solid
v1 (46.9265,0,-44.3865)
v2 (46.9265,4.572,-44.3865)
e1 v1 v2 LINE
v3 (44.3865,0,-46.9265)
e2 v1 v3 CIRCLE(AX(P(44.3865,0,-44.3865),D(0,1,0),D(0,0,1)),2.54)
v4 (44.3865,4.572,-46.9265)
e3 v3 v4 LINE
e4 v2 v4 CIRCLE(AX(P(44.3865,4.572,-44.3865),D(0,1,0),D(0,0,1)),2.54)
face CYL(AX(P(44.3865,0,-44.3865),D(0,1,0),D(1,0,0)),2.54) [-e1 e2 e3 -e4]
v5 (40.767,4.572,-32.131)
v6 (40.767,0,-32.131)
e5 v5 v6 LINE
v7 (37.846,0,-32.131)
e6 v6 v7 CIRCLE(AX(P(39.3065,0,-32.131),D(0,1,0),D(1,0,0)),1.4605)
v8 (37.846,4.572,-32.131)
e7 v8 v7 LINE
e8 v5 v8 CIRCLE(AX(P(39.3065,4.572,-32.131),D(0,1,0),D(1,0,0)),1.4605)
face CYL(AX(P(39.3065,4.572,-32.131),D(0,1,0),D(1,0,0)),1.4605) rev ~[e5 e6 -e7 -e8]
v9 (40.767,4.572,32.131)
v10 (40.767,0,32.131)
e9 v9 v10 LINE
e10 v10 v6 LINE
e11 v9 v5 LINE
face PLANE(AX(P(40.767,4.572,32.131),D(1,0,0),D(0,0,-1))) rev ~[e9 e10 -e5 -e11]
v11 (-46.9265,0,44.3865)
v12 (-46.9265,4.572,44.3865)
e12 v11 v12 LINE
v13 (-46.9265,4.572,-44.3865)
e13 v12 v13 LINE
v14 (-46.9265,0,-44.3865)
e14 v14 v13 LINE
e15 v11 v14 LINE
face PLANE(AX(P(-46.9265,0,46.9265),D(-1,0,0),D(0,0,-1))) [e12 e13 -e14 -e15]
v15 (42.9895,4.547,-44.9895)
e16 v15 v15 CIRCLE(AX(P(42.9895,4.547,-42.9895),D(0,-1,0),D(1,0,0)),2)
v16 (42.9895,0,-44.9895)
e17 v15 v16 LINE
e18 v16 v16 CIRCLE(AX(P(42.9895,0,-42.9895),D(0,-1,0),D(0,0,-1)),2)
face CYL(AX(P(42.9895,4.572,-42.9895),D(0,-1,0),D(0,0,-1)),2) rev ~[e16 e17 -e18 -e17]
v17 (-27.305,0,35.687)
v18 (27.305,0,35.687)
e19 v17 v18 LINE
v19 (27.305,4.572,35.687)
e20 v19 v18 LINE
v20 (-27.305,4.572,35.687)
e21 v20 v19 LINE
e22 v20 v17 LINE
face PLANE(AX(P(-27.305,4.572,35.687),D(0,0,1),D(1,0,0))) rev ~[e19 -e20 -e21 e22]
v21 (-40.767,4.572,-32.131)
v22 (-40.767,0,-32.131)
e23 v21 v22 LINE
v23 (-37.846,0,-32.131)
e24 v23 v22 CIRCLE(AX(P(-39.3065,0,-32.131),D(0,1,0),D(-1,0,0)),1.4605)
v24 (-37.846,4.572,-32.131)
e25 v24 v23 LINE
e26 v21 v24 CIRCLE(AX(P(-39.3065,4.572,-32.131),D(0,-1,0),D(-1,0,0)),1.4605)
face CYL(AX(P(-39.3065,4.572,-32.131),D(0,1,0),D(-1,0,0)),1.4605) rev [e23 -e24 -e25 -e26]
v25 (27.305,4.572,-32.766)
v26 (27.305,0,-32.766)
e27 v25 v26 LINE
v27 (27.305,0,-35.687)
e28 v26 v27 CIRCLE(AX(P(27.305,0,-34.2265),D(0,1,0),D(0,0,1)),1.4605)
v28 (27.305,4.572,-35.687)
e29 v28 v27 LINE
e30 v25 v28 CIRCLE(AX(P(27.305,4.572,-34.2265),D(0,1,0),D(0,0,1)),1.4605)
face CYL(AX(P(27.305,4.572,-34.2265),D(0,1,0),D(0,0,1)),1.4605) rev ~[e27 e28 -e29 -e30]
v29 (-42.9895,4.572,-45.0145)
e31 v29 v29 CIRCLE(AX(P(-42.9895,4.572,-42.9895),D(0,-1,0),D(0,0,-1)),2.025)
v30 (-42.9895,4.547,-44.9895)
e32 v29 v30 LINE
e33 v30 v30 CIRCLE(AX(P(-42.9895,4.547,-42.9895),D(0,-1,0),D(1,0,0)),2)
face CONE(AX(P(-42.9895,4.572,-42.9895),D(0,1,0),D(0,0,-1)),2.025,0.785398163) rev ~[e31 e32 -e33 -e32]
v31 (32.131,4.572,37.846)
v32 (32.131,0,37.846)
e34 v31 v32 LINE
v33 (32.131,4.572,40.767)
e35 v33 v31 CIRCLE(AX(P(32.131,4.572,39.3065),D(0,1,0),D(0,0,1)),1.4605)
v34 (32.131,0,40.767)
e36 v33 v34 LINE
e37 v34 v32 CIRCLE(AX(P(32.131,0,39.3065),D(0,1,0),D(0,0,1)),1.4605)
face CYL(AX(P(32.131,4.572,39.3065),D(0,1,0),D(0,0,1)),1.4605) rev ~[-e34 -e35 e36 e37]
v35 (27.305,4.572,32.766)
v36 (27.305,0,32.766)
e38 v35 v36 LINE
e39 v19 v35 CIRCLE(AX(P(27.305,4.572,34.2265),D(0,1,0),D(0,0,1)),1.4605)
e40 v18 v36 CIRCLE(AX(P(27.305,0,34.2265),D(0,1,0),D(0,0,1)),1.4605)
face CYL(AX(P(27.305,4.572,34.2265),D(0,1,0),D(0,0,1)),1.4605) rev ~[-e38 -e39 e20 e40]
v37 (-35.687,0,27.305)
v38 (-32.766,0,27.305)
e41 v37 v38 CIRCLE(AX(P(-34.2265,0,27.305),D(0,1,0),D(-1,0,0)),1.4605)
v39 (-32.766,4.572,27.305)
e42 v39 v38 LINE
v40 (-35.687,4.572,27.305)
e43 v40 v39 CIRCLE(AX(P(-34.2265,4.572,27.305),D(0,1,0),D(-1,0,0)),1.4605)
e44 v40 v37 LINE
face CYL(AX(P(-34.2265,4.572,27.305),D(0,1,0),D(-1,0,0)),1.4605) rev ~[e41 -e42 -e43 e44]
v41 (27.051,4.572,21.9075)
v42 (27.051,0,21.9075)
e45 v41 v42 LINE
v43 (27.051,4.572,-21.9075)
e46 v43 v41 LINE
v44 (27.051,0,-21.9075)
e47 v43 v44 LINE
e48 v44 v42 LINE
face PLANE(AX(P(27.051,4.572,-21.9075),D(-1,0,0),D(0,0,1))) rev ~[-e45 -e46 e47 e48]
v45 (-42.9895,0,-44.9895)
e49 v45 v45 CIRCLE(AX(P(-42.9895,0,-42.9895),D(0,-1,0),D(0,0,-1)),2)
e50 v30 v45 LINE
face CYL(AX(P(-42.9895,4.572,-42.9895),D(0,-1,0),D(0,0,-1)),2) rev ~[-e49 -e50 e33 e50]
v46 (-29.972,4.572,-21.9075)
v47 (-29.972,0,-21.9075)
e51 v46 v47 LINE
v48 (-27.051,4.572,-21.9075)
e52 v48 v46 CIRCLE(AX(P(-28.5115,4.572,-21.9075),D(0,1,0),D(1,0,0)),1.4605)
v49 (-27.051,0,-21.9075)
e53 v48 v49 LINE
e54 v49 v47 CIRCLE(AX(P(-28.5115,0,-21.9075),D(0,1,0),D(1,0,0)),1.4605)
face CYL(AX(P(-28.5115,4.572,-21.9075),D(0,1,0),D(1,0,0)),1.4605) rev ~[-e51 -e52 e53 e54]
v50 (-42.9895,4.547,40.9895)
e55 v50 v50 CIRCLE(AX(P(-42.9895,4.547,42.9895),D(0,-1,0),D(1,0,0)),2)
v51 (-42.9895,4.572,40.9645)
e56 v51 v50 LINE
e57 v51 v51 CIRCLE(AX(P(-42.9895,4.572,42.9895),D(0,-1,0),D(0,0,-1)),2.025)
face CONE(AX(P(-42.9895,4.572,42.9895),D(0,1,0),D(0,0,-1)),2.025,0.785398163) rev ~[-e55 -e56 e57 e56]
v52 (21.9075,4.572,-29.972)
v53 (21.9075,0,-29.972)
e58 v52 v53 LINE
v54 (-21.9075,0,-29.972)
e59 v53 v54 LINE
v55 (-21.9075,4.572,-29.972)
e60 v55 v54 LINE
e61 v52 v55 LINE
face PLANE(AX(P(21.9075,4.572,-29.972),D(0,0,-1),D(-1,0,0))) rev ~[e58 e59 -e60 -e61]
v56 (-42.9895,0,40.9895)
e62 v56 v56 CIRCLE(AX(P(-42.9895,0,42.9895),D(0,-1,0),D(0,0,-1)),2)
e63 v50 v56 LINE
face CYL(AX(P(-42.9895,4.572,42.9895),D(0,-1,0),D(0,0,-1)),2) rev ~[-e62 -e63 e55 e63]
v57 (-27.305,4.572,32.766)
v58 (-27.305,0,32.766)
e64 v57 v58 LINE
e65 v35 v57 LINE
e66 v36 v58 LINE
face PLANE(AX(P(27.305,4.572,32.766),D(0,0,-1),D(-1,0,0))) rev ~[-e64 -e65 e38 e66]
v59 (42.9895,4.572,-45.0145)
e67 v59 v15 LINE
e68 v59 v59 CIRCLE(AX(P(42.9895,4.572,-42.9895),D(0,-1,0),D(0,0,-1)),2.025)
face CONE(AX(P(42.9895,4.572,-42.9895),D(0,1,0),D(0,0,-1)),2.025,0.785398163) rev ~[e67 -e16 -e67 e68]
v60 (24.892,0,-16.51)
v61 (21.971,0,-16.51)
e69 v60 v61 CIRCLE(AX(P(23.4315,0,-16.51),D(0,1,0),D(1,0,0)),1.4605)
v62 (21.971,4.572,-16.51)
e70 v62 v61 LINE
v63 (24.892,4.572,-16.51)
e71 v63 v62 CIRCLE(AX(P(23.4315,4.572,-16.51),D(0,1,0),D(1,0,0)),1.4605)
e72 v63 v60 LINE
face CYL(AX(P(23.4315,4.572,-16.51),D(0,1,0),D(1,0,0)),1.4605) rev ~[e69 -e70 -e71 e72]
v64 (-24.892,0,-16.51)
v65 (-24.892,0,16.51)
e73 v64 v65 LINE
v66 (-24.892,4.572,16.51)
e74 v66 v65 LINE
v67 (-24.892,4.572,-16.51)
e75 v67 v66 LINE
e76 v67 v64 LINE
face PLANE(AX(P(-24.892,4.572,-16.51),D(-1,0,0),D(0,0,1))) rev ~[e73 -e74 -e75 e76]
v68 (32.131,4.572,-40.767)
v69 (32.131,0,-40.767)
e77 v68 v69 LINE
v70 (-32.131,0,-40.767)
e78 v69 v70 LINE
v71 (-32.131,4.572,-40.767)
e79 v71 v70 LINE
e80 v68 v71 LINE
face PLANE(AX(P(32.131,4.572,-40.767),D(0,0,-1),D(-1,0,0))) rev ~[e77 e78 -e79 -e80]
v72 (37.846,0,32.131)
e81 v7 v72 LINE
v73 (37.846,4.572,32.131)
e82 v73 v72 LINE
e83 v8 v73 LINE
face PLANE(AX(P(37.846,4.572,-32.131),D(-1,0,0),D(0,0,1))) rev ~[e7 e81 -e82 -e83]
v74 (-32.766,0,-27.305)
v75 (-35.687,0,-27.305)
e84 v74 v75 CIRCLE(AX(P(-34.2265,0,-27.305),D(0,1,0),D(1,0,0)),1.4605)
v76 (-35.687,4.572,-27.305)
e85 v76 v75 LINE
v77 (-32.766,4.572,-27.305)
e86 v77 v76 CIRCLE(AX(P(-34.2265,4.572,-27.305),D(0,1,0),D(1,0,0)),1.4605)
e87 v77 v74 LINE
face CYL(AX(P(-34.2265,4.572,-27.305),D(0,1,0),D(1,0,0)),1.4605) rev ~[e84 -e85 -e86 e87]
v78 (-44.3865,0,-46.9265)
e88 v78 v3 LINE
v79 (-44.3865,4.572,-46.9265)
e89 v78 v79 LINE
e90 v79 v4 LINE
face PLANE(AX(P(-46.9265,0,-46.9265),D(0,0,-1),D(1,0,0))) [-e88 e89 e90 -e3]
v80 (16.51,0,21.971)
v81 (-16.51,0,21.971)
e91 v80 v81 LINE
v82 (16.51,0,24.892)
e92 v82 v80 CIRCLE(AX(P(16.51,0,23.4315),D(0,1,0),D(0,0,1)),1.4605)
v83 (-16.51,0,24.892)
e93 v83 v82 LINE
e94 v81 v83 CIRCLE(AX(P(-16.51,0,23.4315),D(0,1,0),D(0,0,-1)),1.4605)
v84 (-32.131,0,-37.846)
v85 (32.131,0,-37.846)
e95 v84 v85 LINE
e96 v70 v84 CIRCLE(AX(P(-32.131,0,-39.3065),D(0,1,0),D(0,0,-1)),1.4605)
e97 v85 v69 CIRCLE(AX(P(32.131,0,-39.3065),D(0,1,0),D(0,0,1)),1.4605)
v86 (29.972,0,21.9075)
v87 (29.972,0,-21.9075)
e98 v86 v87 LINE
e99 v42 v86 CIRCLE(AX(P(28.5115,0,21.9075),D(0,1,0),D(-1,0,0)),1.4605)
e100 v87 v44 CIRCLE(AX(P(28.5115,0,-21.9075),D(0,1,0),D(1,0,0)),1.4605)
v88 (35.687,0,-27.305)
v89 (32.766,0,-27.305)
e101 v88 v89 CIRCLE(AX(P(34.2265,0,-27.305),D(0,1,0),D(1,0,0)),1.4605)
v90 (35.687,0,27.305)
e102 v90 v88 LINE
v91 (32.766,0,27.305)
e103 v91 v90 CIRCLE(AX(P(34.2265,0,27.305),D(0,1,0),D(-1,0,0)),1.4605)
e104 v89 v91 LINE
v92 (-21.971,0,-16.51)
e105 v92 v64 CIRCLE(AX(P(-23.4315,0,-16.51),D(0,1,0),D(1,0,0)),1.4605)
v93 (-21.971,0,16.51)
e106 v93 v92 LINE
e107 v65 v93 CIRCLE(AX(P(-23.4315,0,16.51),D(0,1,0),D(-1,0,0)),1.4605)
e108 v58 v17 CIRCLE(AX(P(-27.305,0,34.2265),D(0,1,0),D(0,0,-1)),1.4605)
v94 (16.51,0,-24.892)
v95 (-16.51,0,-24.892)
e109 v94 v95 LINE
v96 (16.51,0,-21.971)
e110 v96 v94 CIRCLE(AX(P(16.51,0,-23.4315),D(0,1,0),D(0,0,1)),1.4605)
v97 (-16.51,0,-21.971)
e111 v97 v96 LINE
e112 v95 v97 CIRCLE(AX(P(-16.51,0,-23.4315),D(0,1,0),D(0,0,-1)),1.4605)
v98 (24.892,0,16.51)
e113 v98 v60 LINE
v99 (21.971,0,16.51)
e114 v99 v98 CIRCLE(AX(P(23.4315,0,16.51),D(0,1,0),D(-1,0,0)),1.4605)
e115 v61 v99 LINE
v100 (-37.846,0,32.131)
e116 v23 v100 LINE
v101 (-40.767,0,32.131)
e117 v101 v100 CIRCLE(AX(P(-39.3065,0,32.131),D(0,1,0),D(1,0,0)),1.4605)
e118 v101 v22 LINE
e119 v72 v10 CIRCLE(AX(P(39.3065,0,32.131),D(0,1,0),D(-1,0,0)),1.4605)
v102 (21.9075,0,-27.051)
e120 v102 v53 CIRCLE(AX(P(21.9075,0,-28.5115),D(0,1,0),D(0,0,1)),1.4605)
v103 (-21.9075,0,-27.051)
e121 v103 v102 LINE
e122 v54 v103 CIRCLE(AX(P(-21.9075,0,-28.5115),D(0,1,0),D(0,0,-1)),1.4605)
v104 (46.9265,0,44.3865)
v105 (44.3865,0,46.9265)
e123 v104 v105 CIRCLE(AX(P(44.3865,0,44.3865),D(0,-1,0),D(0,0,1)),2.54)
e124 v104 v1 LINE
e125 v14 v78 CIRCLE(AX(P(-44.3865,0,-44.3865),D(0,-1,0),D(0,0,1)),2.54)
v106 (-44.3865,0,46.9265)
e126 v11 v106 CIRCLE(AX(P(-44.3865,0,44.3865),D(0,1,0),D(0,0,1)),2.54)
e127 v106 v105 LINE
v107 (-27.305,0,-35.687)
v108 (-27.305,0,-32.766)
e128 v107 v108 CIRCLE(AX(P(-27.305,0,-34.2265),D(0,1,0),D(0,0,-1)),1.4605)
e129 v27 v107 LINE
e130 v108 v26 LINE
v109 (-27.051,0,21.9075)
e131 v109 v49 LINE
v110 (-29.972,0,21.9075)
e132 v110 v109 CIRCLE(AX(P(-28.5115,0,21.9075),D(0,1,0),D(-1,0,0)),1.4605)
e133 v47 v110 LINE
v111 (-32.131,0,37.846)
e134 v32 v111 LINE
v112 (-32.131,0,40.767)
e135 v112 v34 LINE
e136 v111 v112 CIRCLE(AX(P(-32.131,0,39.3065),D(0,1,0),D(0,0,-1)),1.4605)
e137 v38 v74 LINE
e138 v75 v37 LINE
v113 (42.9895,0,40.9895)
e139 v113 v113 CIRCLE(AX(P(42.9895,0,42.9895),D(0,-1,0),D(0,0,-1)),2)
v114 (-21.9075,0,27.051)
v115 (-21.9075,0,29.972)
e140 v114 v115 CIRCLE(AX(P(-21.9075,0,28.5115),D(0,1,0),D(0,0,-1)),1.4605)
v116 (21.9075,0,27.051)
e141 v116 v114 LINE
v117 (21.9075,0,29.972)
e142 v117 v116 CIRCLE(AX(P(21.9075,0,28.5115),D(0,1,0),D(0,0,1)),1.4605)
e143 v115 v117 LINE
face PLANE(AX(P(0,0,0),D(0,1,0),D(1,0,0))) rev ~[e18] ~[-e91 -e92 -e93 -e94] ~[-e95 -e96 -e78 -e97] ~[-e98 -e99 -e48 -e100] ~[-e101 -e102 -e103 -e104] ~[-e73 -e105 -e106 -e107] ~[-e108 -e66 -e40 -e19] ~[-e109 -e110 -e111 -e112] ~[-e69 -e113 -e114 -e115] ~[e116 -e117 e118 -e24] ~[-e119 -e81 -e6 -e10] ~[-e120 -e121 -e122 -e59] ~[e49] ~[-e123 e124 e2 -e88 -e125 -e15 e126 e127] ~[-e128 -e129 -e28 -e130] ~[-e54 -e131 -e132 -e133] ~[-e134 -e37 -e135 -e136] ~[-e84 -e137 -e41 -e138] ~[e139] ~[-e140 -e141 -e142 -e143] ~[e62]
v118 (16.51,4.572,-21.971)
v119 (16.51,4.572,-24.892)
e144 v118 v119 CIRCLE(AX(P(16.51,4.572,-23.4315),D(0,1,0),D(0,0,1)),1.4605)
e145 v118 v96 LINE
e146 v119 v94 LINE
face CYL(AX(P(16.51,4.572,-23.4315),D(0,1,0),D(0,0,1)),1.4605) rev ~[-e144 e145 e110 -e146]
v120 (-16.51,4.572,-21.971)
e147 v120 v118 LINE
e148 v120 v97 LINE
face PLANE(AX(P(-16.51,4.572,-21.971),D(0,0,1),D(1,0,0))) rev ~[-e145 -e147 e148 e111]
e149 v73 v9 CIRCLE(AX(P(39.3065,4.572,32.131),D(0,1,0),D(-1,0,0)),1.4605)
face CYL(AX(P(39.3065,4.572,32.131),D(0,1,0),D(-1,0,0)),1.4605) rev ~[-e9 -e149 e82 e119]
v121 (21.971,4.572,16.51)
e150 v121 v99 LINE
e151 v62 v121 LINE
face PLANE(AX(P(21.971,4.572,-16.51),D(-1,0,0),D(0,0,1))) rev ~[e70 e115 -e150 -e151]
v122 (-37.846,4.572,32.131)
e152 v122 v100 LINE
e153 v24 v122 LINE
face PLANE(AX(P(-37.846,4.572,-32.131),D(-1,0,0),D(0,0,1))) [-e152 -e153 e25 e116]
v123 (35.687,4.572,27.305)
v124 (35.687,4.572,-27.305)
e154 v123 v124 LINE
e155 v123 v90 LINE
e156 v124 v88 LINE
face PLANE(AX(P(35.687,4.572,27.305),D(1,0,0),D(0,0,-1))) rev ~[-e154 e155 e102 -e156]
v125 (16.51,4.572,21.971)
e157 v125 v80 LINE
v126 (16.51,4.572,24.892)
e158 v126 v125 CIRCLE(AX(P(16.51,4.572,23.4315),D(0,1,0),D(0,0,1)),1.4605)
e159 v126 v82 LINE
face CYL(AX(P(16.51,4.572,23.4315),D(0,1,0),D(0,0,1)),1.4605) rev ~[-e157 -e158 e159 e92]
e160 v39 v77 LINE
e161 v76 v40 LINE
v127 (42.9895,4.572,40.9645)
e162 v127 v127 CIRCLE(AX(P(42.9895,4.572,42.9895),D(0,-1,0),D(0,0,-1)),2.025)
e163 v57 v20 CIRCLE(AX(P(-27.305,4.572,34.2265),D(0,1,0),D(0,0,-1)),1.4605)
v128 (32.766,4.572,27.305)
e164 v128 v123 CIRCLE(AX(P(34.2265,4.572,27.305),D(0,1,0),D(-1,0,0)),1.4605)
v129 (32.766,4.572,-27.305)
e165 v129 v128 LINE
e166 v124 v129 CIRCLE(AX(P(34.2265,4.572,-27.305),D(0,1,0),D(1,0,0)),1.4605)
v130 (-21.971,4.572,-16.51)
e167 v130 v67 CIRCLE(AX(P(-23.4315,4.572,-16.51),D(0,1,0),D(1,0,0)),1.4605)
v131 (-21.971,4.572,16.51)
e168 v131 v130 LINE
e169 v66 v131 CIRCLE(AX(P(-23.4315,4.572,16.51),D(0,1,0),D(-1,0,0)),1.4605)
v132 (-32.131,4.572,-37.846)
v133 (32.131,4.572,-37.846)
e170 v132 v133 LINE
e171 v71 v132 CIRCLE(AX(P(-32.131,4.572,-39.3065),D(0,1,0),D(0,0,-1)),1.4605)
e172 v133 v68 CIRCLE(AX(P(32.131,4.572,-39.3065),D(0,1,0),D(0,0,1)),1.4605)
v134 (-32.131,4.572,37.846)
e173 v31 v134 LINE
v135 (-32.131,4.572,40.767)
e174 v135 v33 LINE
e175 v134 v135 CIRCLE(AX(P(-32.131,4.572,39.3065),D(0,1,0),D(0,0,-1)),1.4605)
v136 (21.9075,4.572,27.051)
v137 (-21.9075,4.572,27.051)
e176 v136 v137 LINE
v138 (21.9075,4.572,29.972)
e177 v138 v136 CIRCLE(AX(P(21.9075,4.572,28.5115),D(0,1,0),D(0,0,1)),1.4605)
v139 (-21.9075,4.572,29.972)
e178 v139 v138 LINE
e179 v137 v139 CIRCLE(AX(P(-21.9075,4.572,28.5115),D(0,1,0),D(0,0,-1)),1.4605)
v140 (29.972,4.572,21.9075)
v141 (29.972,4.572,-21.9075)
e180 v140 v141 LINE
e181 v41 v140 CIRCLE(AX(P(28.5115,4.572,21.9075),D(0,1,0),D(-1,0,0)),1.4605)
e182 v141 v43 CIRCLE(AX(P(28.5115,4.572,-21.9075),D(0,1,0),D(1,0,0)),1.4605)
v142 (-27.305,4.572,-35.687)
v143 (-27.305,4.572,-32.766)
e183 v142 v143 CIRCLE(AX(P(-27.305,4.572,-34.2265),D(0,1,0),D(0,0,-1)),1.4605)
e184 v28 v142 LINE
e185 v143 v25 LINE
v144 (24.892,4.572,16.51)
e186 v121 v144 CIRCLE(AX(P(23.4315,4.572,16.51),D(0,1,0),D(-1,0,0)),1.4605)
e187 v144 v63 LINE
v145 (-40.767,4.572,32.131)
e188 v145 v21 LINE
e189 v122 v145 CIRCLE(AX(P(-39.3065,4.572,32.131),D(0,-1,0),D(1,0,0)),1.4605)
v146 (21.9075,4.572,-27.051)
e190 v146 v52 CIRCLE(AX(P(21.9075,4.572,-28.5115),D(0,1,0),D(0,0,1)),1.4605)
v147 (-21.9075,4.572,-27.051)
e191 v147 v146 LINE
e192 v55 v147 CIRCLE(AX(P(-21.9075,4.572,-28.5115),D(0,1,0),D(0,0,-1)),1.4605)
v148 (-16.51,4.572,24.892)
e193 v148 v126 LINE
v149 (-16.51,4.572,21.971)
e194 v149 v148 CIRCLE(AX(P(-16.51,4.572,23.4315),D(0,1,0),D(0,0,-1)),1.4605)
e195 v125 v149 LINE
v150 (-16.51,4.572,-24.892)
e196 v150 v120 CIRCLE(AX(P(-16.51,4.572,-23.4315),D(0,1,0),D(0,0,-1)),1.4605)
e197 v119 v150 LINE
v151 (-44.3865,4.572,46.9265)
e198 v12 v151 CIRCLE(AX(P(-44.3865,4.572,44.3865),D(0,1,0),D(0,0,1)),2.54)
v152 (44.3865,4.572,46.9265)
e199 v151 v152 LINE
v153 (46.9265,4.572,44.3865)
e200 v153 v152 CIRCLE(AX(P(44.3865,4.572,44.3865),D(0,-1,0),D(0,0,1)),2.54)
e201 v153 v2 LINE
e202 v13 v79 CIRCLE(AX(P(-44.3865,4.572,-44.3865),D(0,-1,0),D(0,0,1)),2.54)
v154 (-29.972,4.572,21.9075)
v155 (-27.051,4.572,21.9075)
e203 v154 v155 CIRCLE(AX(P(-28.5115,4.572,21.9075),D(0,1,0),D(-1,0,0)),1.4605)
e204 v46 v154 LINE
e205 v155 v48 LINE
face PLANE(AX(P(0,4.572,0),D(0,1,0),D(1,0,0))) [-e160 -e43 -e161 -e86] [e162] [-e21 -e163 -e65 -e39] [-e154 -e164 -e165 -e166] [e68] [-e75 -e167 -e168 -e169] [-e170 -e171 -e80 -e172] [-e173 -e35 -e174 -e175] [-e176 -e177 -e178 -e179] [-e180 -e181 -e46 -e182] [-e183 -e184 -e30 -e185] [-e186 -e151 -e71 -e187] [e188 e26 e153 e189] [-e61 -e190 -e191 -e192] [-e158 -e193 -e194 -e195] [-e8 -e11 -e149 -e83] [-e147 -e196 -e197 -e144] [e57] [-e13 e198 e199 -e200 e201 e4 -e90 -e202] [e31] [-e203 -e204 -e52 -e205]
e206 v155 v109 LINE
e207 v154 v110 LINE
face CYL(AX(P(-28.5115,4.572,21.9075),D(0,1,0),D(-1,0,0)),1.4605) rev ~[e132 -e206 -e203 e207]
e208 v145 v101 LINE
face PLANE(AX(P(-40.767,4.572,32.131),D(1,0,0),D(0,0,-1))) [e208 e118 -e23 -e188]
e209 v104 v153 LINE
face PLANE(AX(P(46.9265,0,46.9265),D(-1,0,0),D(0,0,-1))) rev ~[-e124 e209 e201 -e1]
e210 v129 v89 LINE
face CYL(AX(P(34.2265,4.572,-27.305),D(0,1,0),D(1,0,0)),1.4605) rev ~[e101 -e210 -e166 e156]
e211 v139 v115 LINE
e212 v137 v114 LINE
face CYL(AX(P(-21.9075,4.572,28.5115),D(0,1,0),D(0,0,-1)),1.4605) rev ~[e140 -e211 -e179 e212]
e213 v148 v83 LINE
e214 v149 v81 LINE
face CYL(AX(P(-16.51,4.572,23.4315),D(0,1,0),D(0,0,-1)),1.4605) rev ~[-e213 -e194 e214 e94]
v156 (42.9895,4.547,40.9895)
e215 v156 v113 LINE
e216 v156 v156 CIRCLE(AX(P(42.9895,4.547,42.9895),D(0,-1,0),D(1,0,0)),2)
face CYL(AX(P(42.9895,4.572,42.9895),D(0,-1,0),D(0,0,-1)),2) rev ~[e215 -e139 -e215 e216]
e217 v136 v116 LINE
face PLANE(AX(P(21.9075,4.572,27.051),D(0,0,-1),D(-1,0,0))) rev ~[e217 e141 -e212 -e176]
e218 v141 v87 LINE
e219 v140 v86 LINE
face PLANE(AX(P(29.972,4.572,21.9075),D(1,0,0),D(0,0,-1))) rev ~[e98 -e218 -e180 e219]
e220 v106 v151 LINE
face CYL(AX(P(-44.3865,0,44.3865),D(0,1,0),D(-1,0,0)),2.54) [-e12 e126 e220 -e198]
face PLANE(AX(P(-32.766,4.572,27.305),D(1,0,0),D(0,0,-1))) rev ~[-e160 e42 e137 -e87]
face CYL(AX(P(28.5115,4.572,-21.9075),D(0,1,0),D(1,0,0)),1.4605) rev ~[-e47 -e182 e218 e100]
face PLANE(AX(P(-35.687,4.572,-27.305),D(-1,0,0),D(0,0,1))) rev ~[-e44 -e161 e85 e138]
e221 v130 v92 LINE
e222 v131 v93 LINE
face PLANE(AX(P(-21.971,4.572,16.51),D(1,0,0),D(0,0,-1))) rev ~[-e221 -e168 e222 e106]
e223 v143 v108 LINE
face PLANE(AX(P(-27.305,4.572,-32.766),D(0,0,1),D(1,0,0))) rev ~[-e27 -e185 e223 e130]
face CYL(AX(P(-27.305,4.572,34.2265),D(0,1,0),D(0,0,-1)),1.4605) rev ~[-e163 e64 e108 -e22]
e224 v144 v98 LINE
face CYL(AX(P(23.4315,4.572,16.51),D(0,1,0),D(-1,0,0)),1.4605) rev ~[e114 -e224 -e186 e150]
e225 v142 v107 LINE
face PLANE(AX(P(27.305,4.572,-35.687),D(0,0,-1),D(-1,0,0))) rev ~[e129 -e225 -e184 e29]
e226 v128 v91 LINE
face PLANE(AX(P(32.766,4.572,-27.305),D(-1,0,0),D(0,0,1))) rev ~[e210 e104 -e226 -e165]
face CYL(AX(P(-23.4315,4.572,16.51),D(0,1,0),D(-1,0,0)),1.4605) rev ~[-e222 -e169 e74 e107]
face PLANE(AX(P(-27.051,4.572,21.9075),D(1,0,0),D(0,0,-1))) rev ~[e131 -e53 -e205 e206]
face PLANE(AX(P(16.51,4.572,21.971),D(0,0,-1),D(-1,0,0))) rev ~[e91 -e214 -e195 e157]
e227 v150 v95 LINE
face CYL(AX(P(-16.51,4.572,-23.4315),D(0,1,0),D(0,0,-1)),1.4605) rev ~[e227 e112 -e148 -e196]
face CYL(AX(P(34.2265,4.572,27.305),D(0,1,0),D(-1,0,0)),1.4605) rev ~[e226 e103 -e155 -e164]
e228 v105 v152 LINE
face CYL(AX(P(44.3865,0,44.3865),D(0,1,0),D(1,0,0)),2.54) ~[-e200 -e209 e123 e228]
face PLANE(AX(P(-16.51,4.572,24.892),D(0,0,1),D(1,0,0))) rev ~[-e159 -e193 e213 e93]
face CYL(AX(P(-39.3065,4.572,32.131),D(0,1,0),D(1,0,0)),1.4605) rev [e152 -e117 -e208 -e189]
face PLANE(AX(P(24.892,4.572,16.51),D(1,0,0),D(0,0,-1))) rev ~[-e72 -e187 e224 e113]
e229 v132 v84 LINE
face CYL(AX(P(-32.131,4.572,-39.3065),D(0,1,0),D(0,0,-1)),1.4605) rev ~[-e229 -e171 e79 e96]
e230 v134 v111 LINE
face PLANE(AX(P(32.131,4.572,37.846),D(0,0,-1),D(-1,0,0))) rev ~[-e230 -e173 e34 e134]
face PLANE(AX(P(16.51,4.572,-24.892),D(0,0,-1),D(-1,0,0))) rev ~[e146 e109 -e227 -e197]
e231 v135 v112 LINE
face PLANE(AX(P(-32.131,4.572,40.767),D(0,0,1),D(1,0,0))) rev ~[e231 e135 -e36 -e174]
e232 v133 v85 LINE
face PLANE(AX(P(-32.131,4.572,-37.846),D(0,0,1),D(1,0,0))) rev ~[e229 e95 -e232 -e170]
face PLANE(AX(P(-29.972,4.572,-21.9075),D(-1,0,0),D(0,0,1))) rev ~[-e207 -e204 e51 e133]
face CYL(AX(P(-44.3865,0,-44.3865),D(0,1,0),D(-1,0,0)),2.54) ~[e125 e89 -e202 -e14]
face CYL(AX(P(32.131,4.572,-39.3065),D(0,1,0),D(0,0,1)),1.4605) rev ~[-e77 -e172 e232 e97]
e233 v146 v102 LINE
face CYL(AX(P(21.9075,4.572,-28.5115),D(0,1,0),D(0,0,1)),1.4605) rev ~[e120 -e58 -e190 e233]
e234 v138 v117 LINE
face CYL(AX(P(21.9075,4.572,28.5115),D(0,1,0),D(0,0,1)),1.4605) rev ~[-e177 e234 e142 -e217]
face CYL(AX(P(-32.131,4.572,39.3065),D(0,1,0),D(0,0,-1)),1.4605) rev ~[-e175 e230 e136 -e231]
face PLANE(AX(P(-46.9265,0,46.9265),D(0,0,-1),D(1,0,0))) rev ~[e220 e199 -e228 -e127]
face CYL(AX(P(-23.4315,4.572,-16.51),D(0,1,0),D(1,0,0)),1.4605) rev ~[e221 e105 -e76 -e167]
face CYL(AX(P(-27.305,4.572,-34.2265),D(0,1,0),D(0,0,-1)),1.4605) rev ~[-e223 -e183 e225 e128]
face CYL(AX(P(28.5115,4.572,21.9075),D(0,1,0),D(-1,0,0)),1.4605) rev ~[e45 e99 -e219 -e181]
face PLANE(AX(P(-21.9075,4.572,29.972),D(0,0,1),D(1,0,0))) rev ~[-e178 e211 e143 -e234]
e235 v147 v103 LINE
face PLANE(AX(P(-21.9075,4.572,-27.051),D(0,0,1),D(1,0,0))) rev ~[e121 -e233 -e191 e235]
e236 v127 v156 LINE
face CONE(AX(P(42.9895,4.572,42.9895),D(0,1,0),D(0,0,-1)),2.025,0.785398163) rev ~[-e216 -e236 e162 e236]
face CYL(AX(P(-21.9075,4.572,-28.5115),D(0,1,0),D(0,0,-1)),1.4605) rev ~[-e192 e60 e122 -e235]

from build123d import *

# Parameters (mm, degrees)
SKETCH1_W                       = 93.853
SKETCH1_H                       = 93.853
BOSS_EXTRUDE1_DEPTH             = 4.572
CUT_EXTRUDE1_DEPTH              = 67.521394968
F_4_0MM_DOWEL_HOLE1_D           = 4
F_4_0MM_DOWEL_HOLE1_CSINK_D     = 4.05
F_4_0MM_DOWEL_HOLE1_CSINK_ANGLE = 90
FILLET2_R                       = 2.54


with BuildPart() as part:
    # Sketch1 → Boss-Extrude1 (new body)
    with BuildSketch(Plane(origin=(0, 0, 0), x_dir=(1, 0, 0), z_dir=(0, 1, 0))):
        Rectangle(SKETCH1_W, SKETCH1_H)
    extrude(amount=BOSS_EXTRUDE1_DEPTH)

    # Sketch3 → Cut-Extrude1 (cut, through all)
    with BuildSketch(Plane(origin=(0, 4.572, 0), x_dir=(1, 0, 0), z_dir=(0, 1, 0))):
        with BuildLine():
            Line((-32.766, -27.305), (-32.766, 27.305))
            ThreePointArc((-32.766, 27.305), (-34.2265, 28.7655), (-35.687, 27.305))
            Line((-35.687, 27.305), (-35.687, -27.305))
            ThreePointArc((-35.687, -27.305), (-34.2265, -28.7655), (-32.766, -27.305))
        make_face()
        with BuildLine():
            Line((-27.051, -21.9075), (-27.051, 21.9075))
            ThreePointArc((-27.051, 21.9075), (-28.5115, 23.368), (-29.972, 21.9075))
            Line((-29.972, 21.9075), (-29.972, -21.9075))
            ThreePointArc((-29.972, -21.9075), (-28.5115, -23.368), (-27.051, -21.9075))
        make_face()
        with BuildLine():
            Line((-21.971, -16.51), (-21.971, 16.51))
            ThreePointArc((-21.971, 16.51), (-23.4315, 17.9705), (-24.892, 16.51))
            Line((-24.892, 16.51), (-24.892, -16.51))
            ThreePointArc((-24.892, -16.51), (-23.4315, -17.9705), (-21.971, -16.51))
        make_face()
        with BuildLine():
            Line((-16.51, 21.971), (16.51, 21.971))
            ThreePointArc((16.51, 21.971), (17.9705, 23.4315), (16.51, 24.892))
            Line((16.51, 24.892), (-16.51, 24.892))
            ThreePointArc((-16.51, 24.892), (-17.9705, 23.4315), (-16.51, 21.971))
        make_face()
        with BuildLine():
            Line((-21.9075, 27.051), (21.9075, 27.051))
            ThreePointArc((21.9075, 27.051), (23.368, 28.5115), (21.9075, 29.972))
            Line((21.9075, 29.972), (-21.9075, 29.972))
            ThreePointArc((-21.9075, 29.972), (-23.368, 28.5115), (-21.9075, 27.051))
        make_face()
        with BuildLine():
            Line((-27.305, 32.766), (27.305, 32.766))
            ThreePointArc((27.305, 32.766), (28.7655, 34.2265), (27.305, 35.687))
            Line((27.305, 35.687), (-27.305, 35.687))
            ThreePointArc((-27.305, 35.687), (-28.7655, 34.2265), (-27.305, 32.766))
        make_face()
        with BuildLine():
            Line((-32.131, 37.846), (32.131, 37.846))
            ThreePointArc((32.131, 37.846), (33.5915, 39.3065), (32.131, 40.767))
            Line((32.131, 40.767), (-32.131, 40.767))
            ThreePointArc((-32.131, 40.767), (-33.5915, 39.3065), (-32.131, 37.846))
        make_face()
        with BuildLine():
            Line((21.971, 16.51), (21.971, -16.51))
            ThreePointArc((21.971, -16.51), (23.4315, -17.9705), (24.892, -16.51))
            Line((24.892, -16.51), (24.892, 16.51))
            ThreePointArc((24.892, 16.51), (23.4315, 17.9705), (21.971, 16.51))
        make_face()
        with BuildLine():
            Line((27.051, 21.9075), (27.051, -21.9075))
            ThreePointArc((27.051, -21.9075), (28.5115, -23.368), (29.972, -21.9075))
            Line((29.972, -21.9075), (29.972, 21.9075))
            ThreePointArc((29.972, 21.9075), (28.5115, 23.368), (27.051, 21.9075))
        make_face()
        with BuildLine():
            Line((32.766, 27.305), (32.766, -27.305))
            ThreePointArc((32.766, -27.305), (34.2265, -28.7655), (35.687, -27.305))
            Line((35.687, -27.305), (35.687, 27.305))
            ThreePointArc((35.687, 27.305), (34.2265, 28.7655), (32.766, 27.305))
        make_face()
        with BuildLine():
            Line((37.846, 32.131), (37.846, -32.131))
            ThreePointArc((37.846, -32.131), (39.3065, -33.5915), (40.767, -32.131))
            Line((40.767, -32.131), (40.767, 32.131))
            ThreePointArc((40.767, 32.131), (39.3065, 33.5915), (37.846, 32.131))
        make_face()
        with BuildLine():
            Line((16.51, -21.971), (-16.51, -21.971))
            ThreePointArc((-16.51, -21.971), (-17.9705, -23.4315), (-16.51, -24.892))
            Line((-16.51, -24.892), (16.51, -24.892))
            ThreePointArc((16.51, -24.892), (17.9705, -23.4315), (16.51, -21.971))
        make_face()
        with BuildLine():
            Line((21.9075, -27.051), (-21.9075, -27.051))
            ThreePointArc((-21.9075, -27.051), (-23.368, -28.5115), (-21.9075, -29.972))
            Line((-21.9075, -29.972), (21.9075, -29.972))
            ThreePointArc((21.9075, -29.972), (23.368, -28.5115), (21.9075, -27.051))
        make_face()
        with BuildLine():
            Line((27.305, -32.766), (-27.305, -32.766))
            ThreePointArc((-27.305, -32.766), (-28.7655, -34.2265), (-27.305, -35.687))
            Line((-27.305, -35.687), (27.305, -35.687))
            ThreePointArc((27.305, -35.687), (28.7655, -34.2265), (27.305, -32.766))
        make_face()
        with BuildLine():
            Line((32.131, -37.846), (-32.131, -37.846))
            ThreePointArc((-32.131, -37.846), (-33.5915, -39.3065), (-32.131, -40.767))
            Line((-32.131, -40.767), (32.131, -40.767))
            ThreePointArc((32.131, -40.767), (33.5915, -39.3065), (32.131, -37.846))
        make_face()
        with BuildLine():
            Line((-40.767, -32.131), (-40.767, 32.131))
            ThreePointArc((-40.767, 32.131), (-39.3065, 33.5915), (-37.846, 32.131))
            Line((-37.846, 32.131), (-37.846, -32.131))
            ThreePointArc((-37.846, -32.131), (-39.3065, -33.5915), (-40.767, -32.131))
        make_face()
    extrude(amount=-CUT_EXTRUDE1_DEPTH, mode=Mode.SUBTRACT)

    # Ø4.0mm Dowel Hole1 (through all)
    with Locations(Plane(origin=(-42.9895, 4.572, 42.9895), x_dir=(0, 0, 1), z_dir=(0, 1, 0))):
        with Locations((0, 0), (-85.979, 0), (-85.979, 85.979), (0, 85.979)):
            CounterSinkHole(F_4_0MM_DOWEL_HOLE1_D / 2, F_4_0MM_DOWEL_HOLE1_CSINK_D / 2, counter_sink_angle=F_4_0MM_DOWEL_HOLE1_CSINK_ANGLE)

    # Fillet2
    fillet2_edges = [part.edges().sort_by_distance(p)[0] for p in [
        (-46.9265, 2.286, 46.9265),
        (46.9265, 2.286, 46.9265),
        (46.9265, 2.286, -46.9265),
        (-46.9265, 2.286, -46.9265),
    ]]
    fillet(fillet2_edges, radius=FILLET2_R)


solid = part.part
